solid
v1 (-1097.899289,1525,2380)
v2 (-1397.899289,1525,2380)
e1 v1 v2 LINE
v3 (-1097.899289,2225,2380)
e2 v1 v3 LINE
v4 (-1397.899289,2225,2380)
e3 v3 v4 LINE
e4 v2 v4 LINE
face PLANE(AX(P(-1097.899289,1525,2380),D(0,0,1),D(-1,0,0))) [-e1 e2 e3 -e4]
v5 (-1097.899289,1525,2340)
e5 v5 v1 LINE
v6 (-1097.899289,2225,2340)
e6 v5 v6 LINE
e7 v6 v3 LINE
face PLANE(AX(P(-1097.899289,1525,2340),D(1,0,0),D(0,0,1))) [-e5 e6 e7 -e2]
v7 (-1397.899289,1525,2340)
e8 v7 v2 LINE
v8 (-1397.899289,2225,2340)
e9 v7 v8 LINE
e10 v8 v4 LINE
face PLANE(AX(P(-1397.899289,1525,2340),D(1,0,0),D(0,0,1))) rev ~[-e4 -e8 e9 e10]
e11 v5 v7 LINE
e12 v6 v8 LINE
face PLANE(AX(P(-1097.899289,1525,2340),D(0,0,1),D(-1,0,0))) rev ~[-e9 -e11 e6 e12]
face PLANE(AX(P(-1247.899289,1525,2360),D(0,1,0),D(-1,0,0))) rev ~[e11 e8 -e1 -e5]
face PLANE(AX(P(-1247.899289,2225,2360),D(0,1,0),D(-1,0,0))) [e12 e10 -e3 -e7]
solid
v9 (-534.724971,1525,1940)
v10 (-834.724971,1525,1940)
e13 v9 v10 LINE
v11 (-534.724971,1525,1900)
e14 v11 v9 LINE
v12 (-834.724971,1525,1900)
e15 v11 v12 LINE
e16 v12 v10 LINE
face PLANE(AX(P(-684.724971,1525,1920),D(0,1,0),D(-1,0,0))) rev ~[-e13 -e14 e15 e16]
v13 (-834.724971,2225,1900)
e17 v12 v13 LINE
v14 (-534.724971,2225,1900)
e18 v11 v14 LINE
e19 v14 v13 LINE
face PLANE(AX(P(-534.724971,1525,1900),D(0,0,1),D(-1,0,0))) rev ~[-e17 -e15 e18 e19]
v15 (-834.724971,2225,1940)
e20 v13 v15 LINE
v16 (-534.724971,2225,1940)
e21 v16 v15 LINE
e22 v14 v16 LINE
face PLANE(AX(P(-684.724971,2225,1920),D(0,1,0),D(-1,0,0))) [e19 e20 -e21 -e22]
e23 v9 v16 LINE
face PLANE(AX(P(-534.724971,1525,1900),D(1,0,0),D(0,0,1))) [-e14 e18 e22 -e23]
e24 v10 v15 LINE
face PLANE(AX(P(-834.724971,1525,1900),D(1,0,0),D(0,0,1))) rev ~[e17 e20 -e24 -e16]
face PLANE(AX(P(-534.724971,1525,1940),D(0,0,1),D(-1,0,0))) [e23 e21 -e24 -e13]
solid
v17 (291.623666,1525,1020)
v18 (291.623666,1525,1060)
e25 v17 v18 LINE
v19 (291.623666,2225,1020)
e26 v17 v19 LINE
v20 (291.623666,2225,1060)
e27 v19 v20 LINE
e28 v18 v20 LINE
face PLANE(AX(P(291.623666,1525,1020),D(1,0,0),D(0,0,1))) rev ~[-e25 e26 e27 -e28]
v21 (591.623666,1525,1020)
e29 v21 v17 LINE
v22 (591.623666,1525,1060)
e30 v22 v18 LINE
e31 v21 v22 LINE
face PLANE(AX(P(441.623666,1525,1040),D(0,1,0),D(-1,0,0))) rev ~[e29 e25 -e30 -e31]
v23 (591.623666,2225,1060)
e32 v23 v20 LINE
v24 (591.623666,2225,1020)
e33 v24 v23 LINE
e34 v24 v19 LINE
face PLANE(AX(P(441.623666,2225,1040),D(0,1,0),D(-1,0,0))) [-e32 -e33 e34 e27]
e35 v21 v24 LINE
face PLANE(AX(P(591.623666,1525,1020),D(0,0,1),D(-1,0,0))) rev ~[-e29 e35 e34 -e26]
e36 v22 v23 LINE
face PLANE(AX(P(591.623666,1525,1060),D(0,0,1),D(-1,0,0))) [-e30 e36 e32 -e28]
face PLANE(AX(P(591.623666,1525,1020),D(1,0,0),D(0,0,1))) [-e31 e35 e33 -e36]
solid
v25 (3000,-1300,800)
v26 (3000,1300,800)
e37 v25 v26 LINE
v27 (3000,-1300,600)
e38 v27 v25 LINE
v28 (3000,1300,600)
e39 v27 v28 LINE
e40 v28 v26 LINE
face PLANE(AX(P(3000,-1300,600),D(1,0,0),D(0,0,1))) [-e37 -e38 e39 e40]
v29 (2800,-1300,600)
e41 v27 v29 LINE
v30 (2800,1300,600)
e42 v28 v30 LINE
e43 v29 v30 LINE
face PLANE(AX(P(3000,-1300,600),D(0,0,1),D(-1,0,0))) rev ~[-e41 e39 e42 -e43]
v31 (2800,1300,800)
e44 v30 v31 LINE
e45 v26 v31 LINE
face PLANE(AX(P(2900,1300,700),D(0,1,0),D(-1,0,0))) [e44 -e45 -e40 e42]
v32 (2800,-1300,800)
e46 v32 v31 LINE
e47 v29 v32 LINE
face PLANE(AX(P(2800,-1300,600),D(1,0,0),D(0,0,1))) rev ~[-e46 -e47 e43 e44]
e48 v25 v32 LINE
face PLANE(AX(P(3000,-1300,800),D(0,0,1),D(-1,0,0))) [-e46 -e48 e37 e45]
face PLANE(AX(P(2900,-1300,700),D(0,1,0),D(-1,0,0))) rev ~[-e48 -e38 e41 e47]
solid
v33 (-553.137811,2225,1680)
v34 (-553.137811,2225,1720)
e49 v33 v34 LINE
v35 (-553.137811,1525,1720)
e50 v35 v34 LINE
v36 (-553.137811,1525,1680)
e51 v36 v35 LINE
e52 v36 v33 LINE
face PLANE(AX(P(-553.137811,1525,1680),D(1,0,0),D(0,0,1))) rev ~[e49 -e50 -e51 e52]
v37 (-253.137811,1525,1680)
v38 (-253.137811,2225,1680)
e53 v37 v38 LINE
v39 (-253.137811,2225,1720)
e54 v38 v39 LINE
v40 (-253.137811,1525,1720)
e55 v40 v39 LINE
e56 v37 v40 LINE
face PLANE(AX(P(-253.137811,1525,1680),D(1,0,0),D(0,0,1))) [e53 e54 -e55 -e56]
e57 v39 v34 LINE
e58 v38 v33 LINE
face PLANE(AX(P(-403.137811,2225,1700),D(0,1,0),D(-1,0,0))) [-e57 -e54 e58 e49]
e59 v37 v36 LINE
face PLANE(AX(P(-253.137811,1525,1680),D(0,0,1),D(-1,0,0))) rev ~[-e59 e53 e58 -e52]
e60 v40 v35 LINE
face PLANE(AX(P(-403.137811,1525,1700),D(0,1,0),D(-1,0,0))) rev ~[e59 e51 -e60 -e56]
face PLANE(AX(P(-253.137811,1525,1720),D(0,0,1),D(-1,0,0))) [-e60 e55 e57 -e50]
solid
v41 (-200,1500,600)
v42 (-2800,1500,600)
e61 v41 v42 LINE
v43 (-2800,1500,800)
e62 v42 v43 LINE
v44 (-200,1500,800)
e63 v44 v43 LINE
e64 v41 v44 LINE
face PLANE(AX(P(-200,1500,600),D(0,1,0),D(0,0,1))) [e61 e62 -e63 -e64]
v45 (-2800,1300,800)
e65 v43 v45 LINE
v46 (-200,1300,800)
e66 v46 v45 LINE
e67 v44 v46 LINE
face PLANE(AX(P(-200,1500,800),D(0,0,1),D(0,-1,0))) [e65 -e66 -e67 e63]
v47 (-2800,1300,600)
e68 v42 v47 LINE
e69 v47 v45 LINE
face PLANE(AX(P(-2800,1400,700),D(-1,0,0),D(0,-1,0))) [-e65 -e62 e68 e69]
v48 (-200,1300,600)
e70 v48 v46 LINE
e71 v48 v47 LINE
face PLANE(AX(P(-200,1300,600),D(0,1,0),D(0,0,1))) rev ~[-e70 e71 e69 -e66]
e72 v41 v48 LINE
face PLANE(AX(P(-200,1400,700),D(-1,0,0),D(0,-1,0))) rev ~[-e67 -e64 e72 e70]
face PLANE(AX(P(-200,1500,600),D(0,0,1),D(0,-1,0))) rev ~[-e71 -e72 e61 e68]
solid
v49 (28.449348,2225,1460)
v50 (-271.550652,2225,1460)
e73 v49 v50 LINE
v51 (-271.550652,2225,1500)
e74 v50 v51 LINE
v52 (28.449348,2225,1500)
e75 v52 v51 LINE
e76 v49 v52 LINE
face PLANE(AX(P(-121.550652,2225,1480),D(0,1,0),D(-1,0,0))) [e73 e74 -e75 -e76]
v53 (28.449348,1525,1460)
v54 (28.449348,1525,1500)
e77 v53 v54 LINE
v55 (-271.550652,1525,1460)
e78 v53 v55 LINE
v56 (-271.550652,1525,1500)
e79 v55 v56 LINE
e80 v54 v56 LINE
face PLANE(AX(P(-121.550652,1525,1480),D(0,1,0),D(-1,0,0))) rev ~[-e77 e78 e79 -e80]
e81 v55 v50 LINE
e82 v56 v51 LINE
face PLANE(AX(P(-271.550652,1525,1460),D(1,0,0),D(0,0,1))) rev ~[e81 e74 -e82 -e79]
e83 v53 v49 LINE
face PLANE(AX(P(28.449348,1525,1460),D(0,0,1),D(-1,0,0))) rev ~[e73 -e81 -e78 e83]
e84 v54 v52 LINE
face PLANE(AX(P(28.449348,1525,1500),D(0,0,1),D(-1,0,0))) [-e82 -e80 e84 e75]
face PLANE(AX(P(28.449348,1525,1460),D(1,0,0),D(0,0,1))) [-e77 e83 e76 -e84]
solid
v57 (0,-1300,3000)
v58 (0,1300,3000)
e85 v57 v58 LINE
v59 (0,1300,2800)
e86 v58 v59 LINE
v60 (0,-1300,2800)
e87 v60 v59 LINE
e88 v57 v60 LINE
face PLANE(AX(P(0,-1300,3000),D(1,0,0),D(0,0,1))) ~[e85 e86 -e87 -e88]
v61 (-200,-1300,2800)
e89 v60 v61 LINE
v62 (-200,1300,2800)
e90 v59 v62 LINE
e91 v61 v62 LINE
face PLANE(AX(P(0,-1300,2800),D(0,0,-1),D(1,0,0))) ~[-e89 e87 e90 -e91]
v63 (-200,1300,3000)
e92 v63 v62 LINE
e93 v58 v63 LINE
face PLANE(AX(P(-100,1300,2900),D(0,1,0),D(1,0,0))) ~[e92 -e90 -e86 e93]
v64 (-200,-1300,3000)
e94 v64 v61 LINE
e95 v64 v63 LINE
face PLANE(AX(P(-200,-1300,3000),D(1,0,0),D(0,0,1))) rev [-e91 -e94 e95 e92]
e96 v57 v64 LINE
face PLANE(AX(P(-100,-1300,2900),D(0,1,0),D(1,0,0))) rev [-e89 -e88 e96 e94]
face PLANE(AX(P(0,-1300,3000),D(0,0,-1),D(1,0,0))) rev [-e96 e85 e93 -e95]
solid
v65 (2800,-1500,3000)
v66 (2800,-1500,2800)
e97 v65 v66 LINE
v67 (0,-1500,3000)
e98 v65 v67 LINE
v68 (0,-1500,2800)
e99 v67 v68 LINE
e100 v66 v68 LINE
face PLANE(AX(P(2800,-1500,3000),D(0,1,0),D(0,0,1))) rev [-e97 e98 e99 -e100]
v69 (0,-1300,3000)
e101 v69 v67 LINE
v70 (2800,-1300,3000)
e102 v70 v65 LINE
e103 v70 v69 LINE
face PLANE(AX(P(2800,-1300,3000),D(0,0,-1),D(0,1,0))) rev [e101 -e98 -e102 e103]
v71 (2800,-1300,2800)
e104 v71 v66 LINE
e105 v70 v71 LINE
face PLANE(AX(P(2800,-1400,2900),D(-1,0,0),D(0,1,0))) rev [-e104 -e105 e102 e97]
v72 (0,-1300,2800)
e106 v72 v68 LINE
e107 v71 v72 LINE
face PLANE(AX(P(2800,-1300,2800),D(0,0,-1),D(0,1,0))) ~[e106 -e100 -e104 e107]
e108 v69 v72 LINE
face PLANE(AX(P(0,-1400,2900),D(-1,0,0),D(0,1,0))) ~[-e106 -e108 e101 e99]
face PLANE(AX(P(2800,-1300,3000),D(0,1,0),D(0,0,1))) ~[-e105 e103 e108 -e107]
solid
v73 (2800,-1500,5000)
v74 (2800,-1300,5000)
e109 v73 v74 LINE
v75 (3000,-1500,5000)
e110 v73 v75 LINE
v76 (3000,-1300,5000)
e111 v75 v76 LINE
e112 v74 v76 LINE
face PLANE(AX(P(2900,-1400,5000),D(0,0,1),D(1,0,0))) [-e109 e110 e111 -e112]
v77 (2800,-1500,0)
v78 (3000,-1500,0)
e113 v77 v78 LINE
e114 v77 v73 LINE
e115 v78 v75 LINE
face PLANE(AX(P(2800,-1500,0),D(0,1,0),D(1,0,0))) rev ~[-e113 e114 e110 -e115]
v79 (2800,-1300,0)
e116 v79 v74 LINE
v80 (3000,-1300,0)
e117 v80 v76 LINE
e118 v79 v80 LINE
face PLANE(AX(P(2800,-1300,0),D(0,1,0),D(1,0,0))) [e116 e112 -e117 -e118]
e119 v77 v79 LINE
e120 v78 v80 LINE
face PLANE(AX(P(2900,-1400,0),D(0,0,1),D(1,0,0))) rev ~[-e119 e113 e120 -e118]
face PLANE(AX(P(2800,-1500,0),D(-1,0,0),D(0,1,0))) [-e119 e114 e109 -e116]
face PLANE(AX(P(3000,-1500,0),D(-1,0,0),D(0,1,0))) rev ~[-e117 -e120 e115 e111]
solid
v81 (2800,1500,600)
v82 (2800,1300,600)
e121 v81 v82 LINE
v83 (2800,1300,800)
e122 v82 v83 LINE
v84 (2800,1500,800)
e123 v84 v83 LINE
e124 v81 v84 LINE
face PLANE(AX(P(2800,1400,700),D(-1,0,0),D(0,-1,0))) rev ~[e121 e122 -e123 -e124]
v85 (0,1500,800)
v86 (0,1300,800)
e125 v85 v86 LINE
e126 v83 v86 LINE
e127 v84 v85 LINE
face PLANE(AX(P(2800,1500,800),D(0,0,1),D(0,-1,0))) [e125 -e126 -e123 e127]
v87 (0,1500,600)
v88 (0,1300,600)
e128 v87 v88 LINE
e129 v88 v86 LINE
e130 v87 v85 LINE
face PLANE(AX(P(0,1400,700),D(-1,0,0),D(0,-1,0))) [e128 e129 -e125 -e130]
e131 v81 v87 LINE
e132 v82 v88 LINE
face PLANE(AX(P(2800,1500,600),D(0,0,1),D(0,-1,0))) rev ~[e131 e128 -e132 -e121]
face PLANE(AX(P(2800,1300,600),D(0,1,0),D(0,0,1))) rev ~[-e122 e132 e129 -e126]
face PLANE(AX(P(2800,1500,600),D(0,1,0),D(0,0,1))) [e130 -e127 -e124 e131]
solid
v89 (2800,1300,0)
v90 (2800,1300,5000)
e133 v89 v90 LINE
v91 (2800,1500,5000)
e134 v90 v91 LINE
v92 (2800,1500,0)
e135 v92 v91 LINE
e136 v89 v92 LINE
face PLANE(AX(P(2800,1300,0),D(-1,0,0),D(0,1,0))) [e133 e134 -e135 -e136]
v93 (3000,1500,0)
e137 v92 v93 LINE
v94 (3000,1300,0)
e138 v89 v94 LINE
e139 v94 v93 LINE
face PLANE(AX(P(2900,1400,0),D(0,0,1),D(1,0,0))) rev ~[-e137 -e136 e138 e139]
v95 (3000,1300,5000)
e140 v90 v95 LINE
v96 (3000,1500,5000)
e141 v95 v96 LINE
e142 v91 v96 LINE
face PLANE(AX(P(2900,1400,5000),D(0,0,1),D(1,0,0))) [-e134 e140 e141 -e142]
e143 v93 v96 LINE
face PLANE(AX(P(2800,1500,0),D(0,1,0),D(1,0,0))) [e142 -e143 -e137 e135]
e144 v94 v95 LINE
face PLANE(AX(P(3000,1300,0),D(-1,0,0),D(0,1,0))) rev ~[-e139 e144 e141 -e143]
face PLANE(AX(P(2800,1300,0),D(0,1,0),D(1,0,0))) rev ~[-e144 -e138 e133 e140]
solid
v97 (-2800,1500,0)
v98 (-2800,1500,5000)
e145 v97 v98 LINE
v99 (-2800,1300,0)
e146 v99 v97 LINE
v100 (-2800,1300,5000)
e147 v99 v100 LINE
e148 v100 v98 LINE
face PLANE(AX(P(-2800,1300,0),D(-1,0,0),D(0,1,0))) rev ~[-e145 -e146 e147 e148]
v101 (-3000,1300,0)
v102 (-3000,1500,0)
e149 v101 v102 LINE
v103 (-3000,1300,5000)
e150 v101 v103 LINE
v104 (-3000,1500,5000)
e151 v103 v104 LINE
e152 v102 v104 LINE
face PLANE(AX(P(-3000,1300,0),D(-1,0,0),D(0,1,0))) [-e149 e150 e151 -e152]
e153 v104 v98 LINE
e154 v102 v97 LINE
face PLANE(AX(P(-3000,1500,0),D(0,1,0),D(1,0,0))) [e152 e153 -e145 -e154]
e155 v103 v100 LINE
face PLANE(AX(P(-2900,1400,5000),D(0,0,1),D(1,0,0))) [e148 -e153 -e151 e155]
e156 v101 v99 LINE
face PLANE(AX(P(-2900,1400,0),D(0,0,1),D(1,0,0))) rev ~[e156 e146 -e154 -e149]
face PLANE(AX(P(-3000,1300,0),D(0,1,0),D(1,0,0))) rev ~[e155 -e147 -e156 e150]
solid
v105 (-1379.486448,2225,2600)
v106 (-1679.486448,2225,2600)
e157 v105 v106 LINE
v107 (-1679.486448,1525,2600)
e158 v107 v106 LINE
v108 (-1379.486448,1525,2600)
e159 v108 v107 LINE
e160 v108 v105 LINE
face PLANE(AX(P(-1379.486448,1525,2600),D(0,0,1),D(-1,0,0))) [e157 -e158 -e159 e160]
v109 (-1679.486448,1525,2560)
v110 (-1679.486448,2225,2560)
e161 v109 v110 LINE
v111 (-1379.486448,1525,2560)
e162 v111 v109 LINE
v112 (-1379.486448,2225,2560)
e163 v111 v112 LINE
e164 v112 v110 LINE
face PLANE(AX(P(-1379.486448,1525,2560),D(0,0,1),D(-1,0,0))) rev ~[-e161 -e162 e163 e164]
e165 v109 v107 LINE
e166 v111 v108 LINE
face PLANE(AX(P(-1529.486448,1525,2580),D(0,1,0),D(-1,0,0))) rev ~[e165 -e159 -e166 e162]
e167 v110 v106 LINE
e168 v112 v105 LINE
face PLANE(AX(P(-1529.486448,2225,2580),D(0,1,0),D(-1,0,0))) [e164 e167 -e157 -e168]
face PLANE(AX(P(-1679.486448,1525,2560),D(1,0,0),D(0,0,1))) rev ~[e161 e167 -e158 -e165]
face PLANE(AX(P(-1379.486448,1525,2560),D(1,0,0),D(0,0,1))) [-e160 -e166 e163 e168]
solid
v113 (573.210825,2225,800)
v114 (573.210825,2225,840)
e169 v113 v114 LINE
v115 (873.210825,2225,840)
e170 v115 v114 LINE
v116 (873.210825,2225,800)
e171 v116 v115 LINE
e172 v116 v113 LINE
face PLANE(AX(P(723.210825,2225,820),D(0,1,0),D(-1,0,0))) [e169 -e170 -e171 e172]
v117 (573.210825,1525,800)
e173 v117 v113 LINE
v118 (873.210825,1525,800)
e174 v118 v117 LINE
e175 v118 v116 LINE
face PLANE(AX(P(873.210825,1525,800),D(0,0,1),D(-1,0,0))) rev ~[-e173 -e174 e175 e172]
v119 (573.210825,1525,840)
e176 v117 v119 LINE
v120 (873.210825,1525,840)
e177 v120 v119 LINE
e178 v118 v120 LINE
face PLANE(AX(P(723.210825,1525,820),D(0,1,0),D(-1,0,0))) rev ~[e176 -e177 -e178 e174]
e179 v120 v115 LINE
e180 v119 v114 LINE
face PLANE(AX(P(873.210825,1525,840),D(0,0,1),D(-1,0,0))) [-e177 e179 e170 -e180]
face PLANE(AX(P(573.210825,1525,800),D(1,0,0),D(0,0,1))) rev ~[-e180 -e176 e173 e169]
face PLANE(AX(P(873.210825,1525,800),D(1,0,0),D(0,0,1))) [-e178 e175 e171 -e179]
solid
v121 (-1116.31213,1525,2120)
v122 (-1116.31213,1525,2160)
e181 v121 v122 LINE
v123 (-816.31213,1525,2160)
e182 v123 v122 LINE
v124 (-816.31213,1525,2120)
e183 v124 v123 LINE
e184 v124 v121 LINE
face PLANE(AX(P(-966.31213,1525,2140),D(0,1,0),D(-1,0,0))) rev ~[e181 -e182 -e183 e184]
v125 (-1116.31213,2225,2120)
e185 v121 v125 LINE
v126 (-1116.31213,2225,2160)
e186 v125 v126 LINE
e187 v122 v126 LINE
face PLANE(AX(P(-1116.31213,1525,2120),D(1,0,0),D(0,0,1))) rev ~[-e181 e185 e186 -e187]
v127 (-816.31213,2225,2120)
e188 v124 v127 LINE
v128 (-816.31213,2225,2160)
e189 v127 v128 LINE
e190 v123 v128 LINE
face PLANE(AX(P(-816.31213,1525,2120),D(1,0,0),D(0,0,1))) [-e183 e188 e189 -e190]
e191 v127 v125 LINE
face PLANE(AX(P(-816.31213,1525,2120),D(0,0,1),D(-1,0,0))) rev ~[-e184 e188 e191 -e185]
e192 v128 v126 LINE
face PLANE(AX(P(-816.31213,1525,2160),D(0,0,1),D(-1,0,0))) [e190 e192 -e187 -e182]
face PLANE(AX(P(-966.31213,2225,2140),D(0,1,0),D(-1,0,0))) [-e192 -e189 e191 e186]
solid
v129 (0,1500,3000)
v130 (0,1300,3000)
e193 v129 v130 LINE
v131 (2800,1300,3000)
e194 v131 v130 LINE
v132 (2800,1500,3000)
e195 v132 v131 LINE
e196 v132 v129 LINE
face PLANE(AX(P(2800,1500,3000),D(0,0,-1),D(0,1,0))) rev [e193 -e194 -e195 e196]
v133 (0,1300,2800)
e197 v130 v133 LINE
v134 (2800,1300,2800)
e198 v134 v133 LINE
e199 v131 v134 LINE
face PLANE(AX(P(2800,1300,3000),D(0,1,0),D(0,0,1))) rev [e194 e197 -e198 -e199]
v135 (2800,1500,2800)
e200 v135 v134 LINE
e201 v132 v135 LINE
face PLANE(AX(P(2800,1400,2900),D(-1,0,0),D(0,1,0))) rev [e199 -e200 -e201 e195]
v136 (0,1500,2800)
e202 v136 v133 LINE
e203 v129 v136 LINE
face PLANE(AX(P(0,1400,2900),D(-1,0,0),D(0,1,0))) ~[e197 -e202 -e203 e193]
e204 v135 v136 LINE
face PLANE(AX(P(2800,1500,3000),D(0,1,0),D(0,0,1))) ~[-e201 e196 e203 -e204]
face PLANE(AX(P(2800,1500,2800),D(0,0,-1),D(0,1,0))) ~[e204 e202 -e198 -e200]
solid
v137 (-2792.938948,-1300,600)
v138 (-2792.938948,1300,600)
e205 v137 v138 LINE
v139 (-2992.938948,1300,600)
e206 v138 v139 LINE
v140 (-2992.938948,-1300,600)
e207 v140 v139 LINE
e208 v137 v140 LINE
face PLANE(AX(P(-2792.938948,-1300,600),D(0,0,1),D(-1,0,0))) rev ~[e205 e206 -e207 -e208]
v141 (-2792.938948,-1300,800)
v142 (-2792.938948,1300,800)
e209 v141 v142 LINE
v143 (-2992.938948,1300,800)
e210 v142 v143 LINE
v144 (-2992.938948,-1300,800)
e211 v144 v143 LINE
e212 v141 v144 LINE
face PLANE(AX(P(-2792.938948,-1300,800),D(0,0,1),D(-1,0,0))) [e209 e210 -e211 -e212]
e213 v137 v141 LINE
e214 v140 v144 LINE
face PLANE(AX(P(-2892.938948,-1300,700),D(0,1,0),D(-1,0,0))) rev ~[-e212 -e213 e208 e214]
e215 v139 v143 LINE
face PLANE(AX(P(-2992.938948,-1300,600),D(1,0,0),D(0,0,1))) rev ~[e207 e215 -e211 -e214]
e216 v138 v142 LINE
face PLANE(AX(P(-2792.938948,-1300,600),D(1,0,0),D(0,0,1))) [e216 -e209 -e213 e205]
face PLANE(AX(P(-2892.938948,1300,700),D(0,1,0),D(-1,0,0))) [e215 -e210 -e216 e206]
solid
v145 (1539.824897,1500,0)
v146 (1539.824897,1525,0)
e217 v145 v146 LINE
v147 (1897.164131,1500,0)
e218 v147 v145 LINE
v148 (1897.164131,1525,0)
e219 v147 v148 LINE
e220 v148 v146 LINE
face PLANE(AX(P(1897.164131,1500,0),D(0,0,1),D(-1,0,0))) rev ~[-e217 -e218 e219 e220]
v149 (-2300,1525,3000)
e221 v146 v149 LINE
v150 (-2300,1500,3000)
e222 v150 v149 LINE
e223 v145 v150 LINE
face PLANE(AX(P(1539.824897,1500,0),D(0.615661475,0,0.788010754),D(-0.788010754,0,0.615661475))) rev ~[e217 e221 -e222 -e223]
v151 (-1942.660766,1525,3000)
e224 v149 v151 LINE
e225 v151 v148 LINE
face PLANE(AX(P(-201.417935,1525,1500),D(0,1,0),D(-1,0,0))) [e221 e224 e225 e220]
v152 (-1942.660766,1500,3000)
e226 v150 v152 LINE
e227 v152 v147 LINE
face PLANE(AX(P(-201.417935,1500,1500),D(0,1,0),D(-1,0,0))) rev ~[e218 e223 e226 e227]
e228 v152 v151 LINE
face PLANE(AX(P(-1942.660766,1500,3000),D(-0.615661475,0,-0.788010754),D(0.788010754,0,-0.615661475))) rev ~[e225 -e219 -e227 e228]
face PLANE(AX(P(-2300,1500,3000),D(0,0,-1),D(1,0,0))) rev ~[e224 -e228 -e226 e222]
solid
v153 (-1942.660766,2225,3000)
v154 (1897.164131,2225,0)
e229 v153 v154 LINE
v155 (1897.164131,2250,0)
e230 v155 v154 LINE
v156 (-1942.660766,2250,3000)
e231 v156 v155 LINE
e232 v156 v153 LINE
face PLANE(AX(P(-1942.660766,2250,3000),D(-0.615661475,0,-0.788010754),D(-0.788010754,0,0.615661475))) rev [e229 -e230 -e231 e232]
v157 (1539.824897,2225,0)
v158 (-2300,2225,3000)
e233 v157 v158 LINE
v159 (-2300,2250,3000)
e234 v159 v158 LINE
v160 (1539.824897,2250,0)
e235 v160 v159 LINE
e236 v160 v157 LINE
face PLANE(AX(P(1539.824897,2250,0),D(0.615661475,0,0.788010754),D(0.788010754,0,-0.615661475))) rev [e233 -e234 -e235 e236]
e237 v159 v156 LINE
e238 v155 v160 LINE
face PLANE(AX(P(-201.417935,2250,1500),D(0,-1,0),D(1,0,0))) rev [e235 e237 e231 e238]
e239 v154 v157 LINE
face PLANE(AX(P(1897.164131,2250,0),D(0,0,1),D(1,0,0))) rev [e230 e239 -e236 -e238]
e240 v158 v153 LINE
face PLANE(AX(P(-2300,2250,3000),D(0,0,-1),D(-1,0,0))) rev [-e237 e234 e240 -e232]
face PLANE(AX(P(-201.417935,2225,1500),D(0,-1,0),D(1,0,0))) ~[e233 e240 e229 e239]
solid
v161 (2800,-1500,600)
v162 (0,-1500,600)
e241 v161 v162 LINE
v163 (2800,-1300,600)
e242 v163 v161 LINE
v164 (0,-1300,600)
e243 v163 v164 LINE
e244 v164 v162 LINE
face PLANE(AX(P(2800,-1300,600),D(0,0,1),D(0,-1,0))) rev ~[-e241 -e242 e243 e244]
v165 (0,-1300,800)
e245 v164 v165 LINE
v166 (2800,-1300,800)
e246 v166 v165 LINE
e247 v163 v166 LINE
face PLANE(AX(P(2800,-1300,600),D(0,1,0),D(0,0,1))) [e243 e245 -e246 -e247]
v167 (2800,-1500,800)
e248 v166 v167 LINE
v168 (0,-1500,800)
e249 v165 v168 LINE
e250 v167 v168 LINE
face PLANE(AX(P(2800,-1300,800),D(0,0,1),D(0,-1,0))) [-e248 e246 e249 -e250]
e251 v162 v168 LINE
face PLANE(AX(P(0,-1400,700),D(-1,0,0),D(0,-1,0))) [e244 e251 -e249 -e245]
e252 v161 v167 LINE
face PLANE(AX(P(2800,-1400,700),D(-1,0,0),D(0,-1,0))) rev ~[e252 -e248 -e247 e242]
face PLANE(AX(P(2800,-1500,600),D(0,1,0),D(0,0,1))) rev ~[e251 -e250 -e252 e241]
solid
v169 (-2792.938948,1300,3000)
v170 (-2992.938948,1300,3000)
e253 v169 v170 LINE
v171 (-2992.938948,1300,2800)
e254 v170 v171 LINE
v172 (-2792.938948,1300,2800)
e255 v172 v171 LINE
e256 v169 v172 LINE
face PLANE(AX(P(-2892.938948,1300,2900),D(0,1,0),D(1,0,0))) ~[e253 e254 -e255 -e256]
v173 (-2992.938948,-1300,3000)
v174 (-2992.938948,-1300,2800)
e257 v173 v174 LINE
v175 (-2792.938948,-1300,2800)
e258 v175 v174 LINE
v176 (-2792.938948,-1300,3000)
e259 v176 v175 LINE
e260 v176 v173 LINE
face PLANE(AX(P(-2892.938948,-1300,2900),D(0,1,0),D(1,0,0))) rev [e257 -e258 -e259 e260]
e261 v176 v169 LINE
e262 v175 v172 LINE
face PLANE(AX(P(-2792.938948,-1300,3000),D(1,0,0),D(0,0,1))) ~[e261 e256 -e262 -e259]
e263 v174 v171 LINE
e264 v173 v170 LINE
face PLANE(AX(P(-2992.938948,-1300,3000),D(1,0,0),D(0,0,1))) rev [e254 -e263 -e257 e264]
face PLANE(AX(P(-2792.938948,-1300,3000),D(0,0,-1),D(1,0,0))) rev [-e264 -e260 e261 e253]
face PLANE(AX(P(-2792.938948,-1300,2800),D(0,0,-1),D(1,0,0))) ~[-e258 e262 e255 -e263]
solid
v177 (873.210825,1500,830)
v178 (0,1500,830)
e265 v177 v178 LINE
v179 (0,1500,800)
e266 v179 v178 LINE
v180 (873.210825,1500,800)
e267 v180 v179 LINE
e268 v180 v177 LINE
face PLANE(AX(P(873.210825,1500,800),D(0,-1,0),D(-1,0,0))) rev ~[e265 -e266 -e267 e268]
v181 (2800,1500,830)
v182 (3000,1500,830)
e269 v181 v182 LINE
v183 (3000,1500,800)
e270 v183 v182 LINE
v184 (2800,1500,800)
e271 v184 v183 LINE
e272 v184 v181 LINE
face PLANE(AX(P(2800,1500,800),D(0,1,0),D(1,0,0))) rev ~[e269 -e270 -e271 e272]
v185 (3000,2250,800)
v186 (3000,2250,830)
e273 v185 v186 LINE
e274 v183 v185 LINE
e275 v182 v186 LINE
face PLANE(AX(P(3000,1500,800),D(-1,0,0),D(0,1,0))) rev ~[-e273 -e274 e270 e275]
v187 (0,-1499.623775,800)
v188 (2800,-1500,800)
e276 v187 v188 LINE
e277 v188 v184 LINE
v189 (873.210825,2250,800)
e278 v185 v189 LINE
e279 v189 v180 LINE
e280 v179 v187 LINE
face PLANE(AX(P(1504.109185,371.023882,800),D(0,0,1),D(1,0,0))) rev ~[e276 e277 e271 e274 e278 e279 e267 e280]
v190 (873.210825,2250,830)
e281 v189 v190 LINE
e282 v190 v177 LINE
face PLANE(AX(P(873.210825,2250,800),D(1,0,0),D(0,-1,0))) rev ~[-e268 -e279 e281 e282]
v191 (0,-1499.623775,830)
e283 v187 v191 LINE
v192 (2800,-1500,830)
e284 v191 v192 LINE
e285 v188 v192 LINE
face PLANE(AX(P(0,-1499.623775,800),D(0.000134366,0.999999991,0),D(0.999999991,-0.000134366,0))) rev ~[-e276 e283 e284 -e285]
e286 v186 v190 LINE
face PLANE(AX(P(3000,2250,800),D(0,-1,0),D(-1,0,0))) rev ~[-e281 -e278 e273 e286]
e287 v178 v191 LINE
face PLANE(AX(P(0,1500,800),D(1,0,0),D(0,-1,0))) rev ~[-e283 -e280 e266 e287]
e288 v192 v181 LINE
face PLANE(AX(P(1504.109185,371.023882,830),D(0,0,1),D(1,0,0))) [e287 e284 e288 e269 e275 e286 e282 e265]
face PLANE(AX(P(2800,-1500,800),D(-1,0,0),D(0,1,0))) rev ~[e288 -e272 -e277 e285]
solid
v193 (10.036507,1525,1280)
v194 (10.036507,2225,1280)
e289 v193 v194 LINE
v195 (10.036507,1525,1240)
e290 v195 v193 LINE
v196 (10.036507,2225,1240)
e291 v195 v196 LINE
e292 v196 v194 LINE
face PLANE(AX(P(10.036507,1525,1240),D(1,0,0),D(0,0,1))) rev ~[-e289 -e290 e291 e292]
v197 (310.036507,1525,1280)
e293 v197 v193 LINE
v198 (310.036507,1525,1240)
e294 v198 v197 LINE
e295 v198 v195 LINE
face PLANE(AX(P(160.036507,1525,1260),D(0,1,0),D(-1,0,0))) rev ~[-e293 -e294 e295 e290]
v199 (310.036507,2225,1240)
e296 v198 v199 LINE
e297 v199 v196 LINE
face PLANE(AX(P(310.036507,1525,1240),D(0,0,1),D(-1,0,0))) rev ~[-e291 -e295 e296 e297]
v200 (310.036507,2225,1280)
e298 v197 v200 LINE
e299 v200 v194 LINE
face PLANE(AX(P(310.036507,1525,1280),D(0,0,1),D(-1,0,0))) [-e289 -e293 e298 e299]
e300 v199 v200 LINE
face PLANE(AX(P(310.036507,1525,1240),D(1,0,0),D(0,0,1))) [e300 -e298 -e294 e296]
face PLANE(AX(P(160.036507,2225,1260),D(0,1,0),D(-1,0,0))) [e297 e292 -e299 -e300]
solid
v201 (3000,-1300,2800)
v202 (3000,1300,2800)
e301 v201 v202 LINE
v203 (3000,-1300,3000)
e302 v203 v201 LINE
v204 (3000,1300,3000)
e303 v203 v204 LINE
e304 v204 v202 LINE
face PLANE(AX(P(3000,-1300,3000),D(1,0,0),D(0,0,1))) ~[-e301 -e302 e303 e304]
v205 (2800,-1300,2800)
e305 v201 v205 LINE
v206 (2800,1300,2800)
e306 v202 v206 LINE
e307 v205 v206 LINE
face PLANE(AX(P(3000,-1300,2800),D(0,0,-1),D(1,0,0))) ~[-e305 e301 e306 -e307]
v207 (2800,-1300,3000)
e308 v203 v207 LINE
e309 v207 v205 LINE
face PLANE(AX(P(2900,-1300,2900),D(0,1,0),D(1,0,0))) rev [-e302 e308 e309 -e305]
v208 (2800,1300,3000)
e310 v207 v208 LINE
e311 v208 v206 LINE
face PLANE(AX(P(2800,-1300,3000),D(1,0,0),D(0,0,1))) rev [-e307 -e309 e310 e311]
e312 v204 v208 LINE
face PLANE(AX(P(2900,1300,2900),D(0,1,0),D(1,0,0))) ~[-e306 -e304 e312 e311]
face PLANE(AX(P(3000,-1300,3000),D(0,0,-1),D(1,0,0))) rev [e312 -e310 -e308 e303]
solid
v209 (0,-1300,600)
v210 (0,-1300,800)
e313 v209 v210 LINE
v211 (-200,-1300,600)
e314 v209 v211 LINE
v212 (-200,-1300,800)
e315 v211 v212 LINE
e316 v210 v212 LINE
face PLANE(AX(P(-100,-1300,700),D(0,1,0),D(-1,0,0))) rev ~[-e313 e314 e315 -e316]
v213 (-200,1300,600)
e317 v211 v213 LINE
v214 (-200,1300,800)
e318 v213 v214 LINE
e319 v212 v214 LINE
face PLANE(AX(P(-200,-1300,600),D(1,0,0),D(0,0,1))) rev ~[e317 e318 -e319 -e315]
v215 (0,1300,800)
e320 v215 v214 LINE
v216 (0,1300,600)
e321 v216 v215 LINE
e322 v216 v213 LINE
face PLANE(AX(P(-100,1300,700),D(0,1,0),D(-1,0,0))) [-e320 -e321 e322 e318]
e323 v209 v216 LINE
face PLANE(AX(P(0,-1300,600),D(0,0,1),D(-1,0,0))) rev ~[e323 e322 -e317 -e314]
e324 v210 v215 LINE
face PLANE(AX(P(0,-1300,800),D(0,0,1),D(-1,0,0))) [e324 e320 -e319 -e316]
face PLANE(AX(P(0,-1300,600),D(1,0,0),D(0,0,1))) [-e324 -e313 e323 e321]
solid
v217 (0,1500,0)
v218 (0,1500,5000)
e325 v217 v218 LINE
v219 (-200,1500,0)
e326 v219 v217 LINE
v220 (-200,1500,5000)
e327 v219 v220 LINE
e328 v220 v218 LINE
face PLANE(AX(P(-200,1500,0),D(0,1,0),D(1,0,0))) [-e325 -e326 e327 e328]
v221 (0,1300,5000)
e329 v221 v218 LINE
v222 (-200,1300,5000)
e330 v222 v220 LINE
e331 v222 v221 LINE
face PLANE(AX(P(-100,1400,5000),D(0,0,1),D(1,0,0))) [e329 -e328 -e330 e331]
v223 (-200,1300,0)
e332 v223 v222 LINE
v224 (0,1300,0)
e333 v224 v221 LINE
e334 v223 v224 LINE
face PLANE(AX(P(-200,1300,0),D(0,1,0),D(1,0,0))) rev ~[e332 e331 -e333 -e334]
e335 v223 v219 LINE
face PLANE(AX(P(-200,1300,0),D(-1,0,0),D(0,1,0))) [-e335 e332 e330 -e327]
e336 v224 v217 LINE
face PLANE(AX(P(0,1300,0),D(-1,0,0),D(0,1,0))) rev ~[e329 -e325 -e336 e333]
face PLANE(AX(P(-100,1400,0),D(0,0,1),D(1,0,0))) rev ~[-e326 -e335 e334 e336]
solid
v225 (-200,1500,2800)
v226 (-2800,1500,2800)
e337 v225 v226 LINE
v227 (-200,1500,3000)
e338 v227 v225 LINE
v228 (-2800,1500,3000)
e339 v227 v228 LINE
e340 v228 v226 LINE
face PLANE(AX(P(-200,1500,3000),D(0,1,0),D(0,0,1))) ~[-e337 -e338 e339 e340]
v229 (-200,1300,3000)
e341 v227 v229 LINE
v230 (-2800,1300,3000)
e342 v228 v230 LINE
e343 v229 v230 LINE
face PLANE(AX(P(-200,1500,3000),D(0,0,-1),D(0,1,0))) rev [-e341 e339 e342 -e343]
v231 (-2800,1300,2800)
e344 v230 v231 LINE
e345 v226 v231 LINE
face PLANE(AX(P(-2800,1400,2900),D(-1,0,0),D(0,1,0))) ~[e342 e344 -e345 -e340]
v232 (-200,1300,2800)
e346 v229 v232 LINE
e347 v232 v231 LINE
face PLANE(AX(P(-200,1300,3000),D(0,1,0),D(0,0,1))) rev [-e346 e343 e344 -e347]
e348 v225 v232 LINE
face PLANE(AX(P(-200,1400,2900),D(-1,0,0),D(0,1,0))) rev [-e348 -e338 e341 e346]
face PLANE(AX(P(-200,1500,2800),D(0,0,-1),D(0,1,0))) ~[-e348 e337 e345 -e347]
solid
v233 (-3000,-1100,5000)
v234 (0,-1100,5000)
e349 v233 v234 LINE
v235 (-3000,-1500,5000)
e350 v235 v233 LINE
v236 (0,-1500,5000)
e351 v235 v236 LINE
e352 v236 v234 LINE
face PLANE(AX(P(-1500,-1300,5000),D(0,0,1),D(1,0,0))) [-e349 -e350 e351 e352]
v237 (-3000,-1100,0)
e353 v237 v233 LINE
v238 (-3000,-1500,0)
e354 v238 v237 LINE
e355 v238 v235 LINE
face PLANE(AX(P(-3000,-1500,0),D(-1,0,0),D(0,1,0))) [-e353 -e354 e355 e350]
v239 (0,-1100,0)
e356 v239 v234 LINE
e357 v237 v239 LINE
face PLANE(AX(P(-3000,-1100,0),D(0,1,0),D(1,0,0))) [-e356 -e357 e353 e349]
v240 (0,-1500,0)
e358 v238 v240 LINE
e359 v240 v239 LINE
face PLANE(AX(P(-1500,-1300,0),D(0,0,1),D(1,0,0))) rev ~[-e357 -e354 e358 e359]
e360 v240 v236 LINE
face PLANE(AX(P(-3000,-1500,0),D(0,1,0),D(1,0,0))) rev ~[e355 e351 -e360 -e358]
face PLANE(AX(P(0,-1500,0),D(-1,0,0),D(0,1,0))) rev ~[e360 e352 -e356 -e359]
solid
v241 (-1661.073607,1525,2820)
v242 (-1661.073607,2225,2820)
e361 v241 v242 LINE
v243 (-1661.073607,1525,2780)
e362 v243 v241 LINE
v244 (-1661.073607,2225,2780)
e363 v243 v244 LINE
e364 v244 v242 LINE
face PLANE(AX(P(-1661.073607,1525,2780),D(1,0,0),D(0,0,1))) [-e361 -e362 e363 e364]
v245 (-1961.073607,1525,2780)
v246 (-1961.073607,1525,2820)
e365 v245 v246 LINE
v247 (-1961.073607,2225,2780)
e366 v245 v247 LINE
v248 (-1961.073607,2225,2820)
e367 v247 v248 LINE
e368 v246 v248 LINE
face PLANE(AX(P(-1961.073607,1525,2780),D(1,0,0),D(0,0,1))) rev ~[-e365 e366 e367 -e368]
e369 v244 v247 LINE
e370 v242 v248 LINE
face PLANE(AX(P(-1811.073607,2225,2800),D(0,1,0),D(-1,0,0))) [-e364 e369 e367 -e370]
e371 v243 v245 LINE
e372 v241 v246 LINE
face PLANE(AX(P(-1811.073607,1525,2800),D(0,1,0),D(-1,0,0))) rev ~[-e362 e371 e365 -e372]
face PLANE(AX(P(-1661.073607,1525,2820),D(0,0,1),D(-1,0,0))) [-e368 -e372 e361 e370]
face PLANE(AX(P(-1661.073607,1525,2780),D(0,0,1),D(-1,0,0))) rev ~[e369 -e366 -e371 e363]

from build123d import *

# Parameters (mm, degrees)
F1_W      = 200
F1_H      = 200
F2_DEPTH  = 5000
F3_W      = 3000
F3_H      = 400
F4_DEPTH  = 5000
F5_W      = 200
F5_H      = 200
F6_DEPTH  = 2600
F7_W      = 200
F7_H      = 200
F8_DEPTH  = 2800
F9_W      = 200
F9_H      = 200
F10_DEPTH = 2600
F14_DEPTH = 25
F15_W     = 300
F15_H     = 40
F16_DEPTH = 700
F20_DEPTH = 30


with BuildPart() as f2:
    # F1 (on Top) → F2 (new body)
    with BuildSketch(Plane.XY):
        with Locations((-2900, 1400)):
            Rectangle(F1_W, F1_H)
    extrude(amount=F2_DEPTH)


with BuildPart() as f2b:
    # F1 (on Top) → F2, piece 2 (new body)
    with BuildSketch(Plane.XY):
        with Locations((-100, 1400)):
            Rectangle(F1_W, F1_H)
    extrude(amount=F2_DEPTH)


with BuildPart() as f2c:
    # F1 (on Top) → F2, piece 3 (new body)
    with BuildSketch(Plane.XY):
        with Locations((2900, 1400)):
            Rectangle(F1_W, F1_H)
    extrude(amount=F2_DEPTH)


with BuildPart() as f2d:
    # F1 (on Top) → F2, piece 4 (new body)
    with BuildSketch(Plane.XY):
        with Locations((2900, -1400)):
            Rectangle(F1_W, F1_H)
    extrude(amount=F2_DEPTH)


with BuildPart() as f4:
    # F3 (on Top) → F4 (new body)
    with BuildSketch(Plane.XY):
        with Locations((-1500, -1300)):
            Rectangle(F3_W, F3_H)
    extrude(amount=F4_DEPTH)


with BuildPart() as f6:
    # F5 (on face) → F6 (new body)
    with BuildSketch(Plane(origin=(0, -1300, 0), x_dir=(-1, 0, 0), z_dir=(0, 1, 0))):
        with Locations((-2900, 700)):
            Rectangle(F5_W, F5_H)
    extrude(amount=F6_DEPTH)


with BuildPart() as f6b:
    # F5 (on face) → F6, piece 2 (new body)
    with BuildSketch(Plane(origin=(0, -1300, 0), x_dir=(-1, 0, 0), z_dir=(0, 1, 0))):
        with Locations((100, 700)):
            Rectangle(F5_W, F5_H)
    extrude(amount=F6_DEPTH)


with BuildPart() as f6c:
    # F5 (on face) → F6, piece 3 (new body)
    with BuildSketch(Plane(origin=(0, -1300, 0), x_dir=(-1, 0, 0), z_dir=(0, 1, 0))):
        with Locations((2892.9389476776, 700)):
            Rectangle(F5_W, F5_H)
    extrude(amount=F6_DEPTH)


with BuildPart() as f8:
    # F7 (on face) → F8 (new body)
    with BuildSketch(Plane(origin=(2800, 0, 0), x_dir=(0, -1, 0), z_dir=(-1, 0, 0))):
        with Locations((-1400, 700)):
            Rectangle(F7_W, F7_H)
    extrude(amount=F8_DEPTH)


with BuildPart() as f8b:
    # F7 (on face) → F8, piece 2 (new body)
    with BuildSketch(Plane(origin=(2800, 0, 0), x_dir=(0, -1, 0), z_dir=(-1, 0, 0))):
        with Locations((1400, 700)):
            Rectangle(F7_W, F7_H)
    extrude(amount=F8_DEPTH)


with BuildPart() as f10:
    # F9 (on face) → F10 (new body)
    with BuildSketch(Plane(origin=(-200, 0, 0), x_dir=(0, -1, 0), z_dir=(-1, 0, 0))):
        with Locations((-1400, 700)):
            Rectangle(F9_W, F9_H)
    extrude(amount=F10_DEPTH)


with BuildPart() as f12_1:
    # F12: instance of F8b
    add(f8b.part.mirror(Plane.XY.offset(1800)))


with BuildPart() as f12_2:
    # F12: instance of F6
    add(f6.part.mirror(Plane.XY.offset(1800)))


with BuildPart() as f12_3:
    # F12: instance of F8
    add(f8.part.mirror(Plane.XY.offset(1800)))


with BuildPart() as f12_4:
    # F12: instance of F6b
    add(f6b.part.mirror(Plane.XY.offset(1800)))


with BuildPart() as f12_5:
    # F12: instance of F10
    add(f10.part.mirror(Plane.XY.offset(1800)))


with BuildPart() as f12_6:
    # F12: instance of F6c
    add(f6c.part.mirror(Plane.XY.offset(1800)))


with BuildPart() as f14:
    # F13 (on face) → F14 (new body)
    with BuildSketch(Plane(origin=(0, 1500, 0), x_dir=(-1, 0, 0), z_dir=(0, 1, 0))):
        Polygon((1942.6607659938, 3000), (-1897.1641305854, 0), (-1539.8248965792, 0), (2300, 3000), align=None)
    extrude(amount=F14_DEPTH)


with BuildPart() as f16:
    # F15 (on face) → F16 (new body)
    with BuildSketch(Plane(origin=(0, 1525, 0), x_dir=(-1, 0, 0), z_dir=(0, 1, 0))):
        with Locations((-723.210824831, 820)):
            Rectangle(F15_W, F15_H)
    extrude(amount=F16_DEPTH)


with BuildPart() as f16b:
    # F15 (on face) → F16, piece 2 (new body)
    with BuildSketch(Plane(origin=(0, 1525, 0), x_dir=(-1, 0, 0), z_dir=(0, 1, 0))):
        with Locations((-441.6236657485, 1040)):
            Rectangle(F15_W, F15_H)
    extrude(amount=F16_DEPTH)


with BuildPart() as f16c:
    # F15 (on face) → F16, piece 3 (new body)
    with BuildSketch(Plane(origin=(0, 1525, 0), x_dir=(-1, 0, 0), z_dir=(0, 1, 0))):
        with Locations((-160.036506666, 1260)):
            Rectangle(F15_W, F15_H)
    extrude(amount=F16_DEPTH)


with BuildPart() as f16d:
    # F15 (on face) → F16, piece 4 (new body)
    with BuildSketch(Plane(origin=(0, 1525, 0), x_dir=(-1, 0, 0), z_dir=(0, 1, 0))):
        with Locations((121.5506524165, 1480)):
            Rectangle(F15_W, F15_H)
    extrude(amount=F16_DEPTH)


with BuildPart() as f16e:
    # F15 (on face) → F16, piece 5 (new body)
    with BuildSketch(Plane(origin=(0, 1525, 0), x_dir=(-1, 0, 0), z_dir=(0, 1, 0))):
        with Locations((403.1378114989, 1700)):
            Rectangle(F15_W, F15_H)
    extrude(amount=F16_DEPTH)


with BuildPart() as f16f:
    # F15 (on face) → F16, piece 6 (new body)
    with BuildSketch(Plane(origin=(0, 1525, 0), x_dir=(-1, 0, 0), z_dir=(0, 1, 0))):
        with Locations((684.7249705814, 1920)):
            Rectangle(F15_W, F15_H)
    extrude(amount=F16_DEPTH)


with BuildPart() as f16g:
    # F15 (on face) → F16, piece 7 (new body)
    with BuildSketch(Plane(origin=(0, 1525, 0), x_dir=(-1, 0, 0), z_dir=(0, 1, 0))):
        with Locations((966.3121296639, 2140)):
            Rectangle(F15_W, F15_H)
    extrude(amount=F16_DEPTH)


with BuildPart() as f16h:
    # F15 (on face) → F16, piece 8 (new body)
    with BuildSketch(Plane(origin=(0, 1525, 0), x_dir=(-1, 0, 0), z_dir=(0, 1, 0))):
        with Locations((1247.8992887464, 2360)):
            Rectangle(F15_W, F15_H)
    extrude(amount=F16_DEPTH)


with BuildPart() as f16i:
    # F15 (on face) → F16, piece 9 (new body)
    with BuildSketch(Plane(origin=(0, 1525, 0), x_dir=(-1, 0, 0), z_dir=(0, 1, 0))):
        with Locations((1529.4864478288, 2580)):
            Rectangle(F15_W, F15_H)
    extrude(amount=F16_DEPTH)


with BuildPart() as f16j:
    # F15 (on face) → F16, piece 10 (new body)
    with BuildSketch(Plane(origin=(0, 1525, 0), x_dir=(-1, 0, 0), z_dir=(0, 1, 0))):
        with Locations((1811.0736069113, 2800)):
            Rectangle(F15_W, F15_H)
    extrude(amount=F16_DEPTH)


with BuildPart() as f18_1:
    # F18: instance of F14
    add(f14.part.mirror(Plane(origin=(-201.4179347073, 1875, 1500), x_dir=(-1, 0, 0), z_dir=(0, 1, 0))))


with BuildPart() as f20:
    # F19 (on face) → F20 (new body)
    with BuildSketch(Plane.XY.offset(800)):
        Polygon((0, -1499.6237754822), (2800, -1500), (2800, -1300), (2800, 1300), (2800, 1500), (3000, 1500), (3000, 2250), (873.210824831, 2250), (873.210824831, 1500), (0, 1500), (0, -1300), align=None)
    extrude(amount=F20_DEPTH)


solid = Compound([f2.part, f2b.part, f2c.part, f2d.part, f4.part, f6.part, f6b.part, f6c.part, f8.part, f8b.part, f10.part, f12_1.part, f12_2.part, f12_3.part, f12_4.part, f12_5.part, f12_6.part, f14.part, f16.part, f16b.part, f16c.part, f16d.part, f16e.part, f16f.part, f16g.part, f16h.part, f16i.part, f16j.part, f18_1.part, f20.part])
